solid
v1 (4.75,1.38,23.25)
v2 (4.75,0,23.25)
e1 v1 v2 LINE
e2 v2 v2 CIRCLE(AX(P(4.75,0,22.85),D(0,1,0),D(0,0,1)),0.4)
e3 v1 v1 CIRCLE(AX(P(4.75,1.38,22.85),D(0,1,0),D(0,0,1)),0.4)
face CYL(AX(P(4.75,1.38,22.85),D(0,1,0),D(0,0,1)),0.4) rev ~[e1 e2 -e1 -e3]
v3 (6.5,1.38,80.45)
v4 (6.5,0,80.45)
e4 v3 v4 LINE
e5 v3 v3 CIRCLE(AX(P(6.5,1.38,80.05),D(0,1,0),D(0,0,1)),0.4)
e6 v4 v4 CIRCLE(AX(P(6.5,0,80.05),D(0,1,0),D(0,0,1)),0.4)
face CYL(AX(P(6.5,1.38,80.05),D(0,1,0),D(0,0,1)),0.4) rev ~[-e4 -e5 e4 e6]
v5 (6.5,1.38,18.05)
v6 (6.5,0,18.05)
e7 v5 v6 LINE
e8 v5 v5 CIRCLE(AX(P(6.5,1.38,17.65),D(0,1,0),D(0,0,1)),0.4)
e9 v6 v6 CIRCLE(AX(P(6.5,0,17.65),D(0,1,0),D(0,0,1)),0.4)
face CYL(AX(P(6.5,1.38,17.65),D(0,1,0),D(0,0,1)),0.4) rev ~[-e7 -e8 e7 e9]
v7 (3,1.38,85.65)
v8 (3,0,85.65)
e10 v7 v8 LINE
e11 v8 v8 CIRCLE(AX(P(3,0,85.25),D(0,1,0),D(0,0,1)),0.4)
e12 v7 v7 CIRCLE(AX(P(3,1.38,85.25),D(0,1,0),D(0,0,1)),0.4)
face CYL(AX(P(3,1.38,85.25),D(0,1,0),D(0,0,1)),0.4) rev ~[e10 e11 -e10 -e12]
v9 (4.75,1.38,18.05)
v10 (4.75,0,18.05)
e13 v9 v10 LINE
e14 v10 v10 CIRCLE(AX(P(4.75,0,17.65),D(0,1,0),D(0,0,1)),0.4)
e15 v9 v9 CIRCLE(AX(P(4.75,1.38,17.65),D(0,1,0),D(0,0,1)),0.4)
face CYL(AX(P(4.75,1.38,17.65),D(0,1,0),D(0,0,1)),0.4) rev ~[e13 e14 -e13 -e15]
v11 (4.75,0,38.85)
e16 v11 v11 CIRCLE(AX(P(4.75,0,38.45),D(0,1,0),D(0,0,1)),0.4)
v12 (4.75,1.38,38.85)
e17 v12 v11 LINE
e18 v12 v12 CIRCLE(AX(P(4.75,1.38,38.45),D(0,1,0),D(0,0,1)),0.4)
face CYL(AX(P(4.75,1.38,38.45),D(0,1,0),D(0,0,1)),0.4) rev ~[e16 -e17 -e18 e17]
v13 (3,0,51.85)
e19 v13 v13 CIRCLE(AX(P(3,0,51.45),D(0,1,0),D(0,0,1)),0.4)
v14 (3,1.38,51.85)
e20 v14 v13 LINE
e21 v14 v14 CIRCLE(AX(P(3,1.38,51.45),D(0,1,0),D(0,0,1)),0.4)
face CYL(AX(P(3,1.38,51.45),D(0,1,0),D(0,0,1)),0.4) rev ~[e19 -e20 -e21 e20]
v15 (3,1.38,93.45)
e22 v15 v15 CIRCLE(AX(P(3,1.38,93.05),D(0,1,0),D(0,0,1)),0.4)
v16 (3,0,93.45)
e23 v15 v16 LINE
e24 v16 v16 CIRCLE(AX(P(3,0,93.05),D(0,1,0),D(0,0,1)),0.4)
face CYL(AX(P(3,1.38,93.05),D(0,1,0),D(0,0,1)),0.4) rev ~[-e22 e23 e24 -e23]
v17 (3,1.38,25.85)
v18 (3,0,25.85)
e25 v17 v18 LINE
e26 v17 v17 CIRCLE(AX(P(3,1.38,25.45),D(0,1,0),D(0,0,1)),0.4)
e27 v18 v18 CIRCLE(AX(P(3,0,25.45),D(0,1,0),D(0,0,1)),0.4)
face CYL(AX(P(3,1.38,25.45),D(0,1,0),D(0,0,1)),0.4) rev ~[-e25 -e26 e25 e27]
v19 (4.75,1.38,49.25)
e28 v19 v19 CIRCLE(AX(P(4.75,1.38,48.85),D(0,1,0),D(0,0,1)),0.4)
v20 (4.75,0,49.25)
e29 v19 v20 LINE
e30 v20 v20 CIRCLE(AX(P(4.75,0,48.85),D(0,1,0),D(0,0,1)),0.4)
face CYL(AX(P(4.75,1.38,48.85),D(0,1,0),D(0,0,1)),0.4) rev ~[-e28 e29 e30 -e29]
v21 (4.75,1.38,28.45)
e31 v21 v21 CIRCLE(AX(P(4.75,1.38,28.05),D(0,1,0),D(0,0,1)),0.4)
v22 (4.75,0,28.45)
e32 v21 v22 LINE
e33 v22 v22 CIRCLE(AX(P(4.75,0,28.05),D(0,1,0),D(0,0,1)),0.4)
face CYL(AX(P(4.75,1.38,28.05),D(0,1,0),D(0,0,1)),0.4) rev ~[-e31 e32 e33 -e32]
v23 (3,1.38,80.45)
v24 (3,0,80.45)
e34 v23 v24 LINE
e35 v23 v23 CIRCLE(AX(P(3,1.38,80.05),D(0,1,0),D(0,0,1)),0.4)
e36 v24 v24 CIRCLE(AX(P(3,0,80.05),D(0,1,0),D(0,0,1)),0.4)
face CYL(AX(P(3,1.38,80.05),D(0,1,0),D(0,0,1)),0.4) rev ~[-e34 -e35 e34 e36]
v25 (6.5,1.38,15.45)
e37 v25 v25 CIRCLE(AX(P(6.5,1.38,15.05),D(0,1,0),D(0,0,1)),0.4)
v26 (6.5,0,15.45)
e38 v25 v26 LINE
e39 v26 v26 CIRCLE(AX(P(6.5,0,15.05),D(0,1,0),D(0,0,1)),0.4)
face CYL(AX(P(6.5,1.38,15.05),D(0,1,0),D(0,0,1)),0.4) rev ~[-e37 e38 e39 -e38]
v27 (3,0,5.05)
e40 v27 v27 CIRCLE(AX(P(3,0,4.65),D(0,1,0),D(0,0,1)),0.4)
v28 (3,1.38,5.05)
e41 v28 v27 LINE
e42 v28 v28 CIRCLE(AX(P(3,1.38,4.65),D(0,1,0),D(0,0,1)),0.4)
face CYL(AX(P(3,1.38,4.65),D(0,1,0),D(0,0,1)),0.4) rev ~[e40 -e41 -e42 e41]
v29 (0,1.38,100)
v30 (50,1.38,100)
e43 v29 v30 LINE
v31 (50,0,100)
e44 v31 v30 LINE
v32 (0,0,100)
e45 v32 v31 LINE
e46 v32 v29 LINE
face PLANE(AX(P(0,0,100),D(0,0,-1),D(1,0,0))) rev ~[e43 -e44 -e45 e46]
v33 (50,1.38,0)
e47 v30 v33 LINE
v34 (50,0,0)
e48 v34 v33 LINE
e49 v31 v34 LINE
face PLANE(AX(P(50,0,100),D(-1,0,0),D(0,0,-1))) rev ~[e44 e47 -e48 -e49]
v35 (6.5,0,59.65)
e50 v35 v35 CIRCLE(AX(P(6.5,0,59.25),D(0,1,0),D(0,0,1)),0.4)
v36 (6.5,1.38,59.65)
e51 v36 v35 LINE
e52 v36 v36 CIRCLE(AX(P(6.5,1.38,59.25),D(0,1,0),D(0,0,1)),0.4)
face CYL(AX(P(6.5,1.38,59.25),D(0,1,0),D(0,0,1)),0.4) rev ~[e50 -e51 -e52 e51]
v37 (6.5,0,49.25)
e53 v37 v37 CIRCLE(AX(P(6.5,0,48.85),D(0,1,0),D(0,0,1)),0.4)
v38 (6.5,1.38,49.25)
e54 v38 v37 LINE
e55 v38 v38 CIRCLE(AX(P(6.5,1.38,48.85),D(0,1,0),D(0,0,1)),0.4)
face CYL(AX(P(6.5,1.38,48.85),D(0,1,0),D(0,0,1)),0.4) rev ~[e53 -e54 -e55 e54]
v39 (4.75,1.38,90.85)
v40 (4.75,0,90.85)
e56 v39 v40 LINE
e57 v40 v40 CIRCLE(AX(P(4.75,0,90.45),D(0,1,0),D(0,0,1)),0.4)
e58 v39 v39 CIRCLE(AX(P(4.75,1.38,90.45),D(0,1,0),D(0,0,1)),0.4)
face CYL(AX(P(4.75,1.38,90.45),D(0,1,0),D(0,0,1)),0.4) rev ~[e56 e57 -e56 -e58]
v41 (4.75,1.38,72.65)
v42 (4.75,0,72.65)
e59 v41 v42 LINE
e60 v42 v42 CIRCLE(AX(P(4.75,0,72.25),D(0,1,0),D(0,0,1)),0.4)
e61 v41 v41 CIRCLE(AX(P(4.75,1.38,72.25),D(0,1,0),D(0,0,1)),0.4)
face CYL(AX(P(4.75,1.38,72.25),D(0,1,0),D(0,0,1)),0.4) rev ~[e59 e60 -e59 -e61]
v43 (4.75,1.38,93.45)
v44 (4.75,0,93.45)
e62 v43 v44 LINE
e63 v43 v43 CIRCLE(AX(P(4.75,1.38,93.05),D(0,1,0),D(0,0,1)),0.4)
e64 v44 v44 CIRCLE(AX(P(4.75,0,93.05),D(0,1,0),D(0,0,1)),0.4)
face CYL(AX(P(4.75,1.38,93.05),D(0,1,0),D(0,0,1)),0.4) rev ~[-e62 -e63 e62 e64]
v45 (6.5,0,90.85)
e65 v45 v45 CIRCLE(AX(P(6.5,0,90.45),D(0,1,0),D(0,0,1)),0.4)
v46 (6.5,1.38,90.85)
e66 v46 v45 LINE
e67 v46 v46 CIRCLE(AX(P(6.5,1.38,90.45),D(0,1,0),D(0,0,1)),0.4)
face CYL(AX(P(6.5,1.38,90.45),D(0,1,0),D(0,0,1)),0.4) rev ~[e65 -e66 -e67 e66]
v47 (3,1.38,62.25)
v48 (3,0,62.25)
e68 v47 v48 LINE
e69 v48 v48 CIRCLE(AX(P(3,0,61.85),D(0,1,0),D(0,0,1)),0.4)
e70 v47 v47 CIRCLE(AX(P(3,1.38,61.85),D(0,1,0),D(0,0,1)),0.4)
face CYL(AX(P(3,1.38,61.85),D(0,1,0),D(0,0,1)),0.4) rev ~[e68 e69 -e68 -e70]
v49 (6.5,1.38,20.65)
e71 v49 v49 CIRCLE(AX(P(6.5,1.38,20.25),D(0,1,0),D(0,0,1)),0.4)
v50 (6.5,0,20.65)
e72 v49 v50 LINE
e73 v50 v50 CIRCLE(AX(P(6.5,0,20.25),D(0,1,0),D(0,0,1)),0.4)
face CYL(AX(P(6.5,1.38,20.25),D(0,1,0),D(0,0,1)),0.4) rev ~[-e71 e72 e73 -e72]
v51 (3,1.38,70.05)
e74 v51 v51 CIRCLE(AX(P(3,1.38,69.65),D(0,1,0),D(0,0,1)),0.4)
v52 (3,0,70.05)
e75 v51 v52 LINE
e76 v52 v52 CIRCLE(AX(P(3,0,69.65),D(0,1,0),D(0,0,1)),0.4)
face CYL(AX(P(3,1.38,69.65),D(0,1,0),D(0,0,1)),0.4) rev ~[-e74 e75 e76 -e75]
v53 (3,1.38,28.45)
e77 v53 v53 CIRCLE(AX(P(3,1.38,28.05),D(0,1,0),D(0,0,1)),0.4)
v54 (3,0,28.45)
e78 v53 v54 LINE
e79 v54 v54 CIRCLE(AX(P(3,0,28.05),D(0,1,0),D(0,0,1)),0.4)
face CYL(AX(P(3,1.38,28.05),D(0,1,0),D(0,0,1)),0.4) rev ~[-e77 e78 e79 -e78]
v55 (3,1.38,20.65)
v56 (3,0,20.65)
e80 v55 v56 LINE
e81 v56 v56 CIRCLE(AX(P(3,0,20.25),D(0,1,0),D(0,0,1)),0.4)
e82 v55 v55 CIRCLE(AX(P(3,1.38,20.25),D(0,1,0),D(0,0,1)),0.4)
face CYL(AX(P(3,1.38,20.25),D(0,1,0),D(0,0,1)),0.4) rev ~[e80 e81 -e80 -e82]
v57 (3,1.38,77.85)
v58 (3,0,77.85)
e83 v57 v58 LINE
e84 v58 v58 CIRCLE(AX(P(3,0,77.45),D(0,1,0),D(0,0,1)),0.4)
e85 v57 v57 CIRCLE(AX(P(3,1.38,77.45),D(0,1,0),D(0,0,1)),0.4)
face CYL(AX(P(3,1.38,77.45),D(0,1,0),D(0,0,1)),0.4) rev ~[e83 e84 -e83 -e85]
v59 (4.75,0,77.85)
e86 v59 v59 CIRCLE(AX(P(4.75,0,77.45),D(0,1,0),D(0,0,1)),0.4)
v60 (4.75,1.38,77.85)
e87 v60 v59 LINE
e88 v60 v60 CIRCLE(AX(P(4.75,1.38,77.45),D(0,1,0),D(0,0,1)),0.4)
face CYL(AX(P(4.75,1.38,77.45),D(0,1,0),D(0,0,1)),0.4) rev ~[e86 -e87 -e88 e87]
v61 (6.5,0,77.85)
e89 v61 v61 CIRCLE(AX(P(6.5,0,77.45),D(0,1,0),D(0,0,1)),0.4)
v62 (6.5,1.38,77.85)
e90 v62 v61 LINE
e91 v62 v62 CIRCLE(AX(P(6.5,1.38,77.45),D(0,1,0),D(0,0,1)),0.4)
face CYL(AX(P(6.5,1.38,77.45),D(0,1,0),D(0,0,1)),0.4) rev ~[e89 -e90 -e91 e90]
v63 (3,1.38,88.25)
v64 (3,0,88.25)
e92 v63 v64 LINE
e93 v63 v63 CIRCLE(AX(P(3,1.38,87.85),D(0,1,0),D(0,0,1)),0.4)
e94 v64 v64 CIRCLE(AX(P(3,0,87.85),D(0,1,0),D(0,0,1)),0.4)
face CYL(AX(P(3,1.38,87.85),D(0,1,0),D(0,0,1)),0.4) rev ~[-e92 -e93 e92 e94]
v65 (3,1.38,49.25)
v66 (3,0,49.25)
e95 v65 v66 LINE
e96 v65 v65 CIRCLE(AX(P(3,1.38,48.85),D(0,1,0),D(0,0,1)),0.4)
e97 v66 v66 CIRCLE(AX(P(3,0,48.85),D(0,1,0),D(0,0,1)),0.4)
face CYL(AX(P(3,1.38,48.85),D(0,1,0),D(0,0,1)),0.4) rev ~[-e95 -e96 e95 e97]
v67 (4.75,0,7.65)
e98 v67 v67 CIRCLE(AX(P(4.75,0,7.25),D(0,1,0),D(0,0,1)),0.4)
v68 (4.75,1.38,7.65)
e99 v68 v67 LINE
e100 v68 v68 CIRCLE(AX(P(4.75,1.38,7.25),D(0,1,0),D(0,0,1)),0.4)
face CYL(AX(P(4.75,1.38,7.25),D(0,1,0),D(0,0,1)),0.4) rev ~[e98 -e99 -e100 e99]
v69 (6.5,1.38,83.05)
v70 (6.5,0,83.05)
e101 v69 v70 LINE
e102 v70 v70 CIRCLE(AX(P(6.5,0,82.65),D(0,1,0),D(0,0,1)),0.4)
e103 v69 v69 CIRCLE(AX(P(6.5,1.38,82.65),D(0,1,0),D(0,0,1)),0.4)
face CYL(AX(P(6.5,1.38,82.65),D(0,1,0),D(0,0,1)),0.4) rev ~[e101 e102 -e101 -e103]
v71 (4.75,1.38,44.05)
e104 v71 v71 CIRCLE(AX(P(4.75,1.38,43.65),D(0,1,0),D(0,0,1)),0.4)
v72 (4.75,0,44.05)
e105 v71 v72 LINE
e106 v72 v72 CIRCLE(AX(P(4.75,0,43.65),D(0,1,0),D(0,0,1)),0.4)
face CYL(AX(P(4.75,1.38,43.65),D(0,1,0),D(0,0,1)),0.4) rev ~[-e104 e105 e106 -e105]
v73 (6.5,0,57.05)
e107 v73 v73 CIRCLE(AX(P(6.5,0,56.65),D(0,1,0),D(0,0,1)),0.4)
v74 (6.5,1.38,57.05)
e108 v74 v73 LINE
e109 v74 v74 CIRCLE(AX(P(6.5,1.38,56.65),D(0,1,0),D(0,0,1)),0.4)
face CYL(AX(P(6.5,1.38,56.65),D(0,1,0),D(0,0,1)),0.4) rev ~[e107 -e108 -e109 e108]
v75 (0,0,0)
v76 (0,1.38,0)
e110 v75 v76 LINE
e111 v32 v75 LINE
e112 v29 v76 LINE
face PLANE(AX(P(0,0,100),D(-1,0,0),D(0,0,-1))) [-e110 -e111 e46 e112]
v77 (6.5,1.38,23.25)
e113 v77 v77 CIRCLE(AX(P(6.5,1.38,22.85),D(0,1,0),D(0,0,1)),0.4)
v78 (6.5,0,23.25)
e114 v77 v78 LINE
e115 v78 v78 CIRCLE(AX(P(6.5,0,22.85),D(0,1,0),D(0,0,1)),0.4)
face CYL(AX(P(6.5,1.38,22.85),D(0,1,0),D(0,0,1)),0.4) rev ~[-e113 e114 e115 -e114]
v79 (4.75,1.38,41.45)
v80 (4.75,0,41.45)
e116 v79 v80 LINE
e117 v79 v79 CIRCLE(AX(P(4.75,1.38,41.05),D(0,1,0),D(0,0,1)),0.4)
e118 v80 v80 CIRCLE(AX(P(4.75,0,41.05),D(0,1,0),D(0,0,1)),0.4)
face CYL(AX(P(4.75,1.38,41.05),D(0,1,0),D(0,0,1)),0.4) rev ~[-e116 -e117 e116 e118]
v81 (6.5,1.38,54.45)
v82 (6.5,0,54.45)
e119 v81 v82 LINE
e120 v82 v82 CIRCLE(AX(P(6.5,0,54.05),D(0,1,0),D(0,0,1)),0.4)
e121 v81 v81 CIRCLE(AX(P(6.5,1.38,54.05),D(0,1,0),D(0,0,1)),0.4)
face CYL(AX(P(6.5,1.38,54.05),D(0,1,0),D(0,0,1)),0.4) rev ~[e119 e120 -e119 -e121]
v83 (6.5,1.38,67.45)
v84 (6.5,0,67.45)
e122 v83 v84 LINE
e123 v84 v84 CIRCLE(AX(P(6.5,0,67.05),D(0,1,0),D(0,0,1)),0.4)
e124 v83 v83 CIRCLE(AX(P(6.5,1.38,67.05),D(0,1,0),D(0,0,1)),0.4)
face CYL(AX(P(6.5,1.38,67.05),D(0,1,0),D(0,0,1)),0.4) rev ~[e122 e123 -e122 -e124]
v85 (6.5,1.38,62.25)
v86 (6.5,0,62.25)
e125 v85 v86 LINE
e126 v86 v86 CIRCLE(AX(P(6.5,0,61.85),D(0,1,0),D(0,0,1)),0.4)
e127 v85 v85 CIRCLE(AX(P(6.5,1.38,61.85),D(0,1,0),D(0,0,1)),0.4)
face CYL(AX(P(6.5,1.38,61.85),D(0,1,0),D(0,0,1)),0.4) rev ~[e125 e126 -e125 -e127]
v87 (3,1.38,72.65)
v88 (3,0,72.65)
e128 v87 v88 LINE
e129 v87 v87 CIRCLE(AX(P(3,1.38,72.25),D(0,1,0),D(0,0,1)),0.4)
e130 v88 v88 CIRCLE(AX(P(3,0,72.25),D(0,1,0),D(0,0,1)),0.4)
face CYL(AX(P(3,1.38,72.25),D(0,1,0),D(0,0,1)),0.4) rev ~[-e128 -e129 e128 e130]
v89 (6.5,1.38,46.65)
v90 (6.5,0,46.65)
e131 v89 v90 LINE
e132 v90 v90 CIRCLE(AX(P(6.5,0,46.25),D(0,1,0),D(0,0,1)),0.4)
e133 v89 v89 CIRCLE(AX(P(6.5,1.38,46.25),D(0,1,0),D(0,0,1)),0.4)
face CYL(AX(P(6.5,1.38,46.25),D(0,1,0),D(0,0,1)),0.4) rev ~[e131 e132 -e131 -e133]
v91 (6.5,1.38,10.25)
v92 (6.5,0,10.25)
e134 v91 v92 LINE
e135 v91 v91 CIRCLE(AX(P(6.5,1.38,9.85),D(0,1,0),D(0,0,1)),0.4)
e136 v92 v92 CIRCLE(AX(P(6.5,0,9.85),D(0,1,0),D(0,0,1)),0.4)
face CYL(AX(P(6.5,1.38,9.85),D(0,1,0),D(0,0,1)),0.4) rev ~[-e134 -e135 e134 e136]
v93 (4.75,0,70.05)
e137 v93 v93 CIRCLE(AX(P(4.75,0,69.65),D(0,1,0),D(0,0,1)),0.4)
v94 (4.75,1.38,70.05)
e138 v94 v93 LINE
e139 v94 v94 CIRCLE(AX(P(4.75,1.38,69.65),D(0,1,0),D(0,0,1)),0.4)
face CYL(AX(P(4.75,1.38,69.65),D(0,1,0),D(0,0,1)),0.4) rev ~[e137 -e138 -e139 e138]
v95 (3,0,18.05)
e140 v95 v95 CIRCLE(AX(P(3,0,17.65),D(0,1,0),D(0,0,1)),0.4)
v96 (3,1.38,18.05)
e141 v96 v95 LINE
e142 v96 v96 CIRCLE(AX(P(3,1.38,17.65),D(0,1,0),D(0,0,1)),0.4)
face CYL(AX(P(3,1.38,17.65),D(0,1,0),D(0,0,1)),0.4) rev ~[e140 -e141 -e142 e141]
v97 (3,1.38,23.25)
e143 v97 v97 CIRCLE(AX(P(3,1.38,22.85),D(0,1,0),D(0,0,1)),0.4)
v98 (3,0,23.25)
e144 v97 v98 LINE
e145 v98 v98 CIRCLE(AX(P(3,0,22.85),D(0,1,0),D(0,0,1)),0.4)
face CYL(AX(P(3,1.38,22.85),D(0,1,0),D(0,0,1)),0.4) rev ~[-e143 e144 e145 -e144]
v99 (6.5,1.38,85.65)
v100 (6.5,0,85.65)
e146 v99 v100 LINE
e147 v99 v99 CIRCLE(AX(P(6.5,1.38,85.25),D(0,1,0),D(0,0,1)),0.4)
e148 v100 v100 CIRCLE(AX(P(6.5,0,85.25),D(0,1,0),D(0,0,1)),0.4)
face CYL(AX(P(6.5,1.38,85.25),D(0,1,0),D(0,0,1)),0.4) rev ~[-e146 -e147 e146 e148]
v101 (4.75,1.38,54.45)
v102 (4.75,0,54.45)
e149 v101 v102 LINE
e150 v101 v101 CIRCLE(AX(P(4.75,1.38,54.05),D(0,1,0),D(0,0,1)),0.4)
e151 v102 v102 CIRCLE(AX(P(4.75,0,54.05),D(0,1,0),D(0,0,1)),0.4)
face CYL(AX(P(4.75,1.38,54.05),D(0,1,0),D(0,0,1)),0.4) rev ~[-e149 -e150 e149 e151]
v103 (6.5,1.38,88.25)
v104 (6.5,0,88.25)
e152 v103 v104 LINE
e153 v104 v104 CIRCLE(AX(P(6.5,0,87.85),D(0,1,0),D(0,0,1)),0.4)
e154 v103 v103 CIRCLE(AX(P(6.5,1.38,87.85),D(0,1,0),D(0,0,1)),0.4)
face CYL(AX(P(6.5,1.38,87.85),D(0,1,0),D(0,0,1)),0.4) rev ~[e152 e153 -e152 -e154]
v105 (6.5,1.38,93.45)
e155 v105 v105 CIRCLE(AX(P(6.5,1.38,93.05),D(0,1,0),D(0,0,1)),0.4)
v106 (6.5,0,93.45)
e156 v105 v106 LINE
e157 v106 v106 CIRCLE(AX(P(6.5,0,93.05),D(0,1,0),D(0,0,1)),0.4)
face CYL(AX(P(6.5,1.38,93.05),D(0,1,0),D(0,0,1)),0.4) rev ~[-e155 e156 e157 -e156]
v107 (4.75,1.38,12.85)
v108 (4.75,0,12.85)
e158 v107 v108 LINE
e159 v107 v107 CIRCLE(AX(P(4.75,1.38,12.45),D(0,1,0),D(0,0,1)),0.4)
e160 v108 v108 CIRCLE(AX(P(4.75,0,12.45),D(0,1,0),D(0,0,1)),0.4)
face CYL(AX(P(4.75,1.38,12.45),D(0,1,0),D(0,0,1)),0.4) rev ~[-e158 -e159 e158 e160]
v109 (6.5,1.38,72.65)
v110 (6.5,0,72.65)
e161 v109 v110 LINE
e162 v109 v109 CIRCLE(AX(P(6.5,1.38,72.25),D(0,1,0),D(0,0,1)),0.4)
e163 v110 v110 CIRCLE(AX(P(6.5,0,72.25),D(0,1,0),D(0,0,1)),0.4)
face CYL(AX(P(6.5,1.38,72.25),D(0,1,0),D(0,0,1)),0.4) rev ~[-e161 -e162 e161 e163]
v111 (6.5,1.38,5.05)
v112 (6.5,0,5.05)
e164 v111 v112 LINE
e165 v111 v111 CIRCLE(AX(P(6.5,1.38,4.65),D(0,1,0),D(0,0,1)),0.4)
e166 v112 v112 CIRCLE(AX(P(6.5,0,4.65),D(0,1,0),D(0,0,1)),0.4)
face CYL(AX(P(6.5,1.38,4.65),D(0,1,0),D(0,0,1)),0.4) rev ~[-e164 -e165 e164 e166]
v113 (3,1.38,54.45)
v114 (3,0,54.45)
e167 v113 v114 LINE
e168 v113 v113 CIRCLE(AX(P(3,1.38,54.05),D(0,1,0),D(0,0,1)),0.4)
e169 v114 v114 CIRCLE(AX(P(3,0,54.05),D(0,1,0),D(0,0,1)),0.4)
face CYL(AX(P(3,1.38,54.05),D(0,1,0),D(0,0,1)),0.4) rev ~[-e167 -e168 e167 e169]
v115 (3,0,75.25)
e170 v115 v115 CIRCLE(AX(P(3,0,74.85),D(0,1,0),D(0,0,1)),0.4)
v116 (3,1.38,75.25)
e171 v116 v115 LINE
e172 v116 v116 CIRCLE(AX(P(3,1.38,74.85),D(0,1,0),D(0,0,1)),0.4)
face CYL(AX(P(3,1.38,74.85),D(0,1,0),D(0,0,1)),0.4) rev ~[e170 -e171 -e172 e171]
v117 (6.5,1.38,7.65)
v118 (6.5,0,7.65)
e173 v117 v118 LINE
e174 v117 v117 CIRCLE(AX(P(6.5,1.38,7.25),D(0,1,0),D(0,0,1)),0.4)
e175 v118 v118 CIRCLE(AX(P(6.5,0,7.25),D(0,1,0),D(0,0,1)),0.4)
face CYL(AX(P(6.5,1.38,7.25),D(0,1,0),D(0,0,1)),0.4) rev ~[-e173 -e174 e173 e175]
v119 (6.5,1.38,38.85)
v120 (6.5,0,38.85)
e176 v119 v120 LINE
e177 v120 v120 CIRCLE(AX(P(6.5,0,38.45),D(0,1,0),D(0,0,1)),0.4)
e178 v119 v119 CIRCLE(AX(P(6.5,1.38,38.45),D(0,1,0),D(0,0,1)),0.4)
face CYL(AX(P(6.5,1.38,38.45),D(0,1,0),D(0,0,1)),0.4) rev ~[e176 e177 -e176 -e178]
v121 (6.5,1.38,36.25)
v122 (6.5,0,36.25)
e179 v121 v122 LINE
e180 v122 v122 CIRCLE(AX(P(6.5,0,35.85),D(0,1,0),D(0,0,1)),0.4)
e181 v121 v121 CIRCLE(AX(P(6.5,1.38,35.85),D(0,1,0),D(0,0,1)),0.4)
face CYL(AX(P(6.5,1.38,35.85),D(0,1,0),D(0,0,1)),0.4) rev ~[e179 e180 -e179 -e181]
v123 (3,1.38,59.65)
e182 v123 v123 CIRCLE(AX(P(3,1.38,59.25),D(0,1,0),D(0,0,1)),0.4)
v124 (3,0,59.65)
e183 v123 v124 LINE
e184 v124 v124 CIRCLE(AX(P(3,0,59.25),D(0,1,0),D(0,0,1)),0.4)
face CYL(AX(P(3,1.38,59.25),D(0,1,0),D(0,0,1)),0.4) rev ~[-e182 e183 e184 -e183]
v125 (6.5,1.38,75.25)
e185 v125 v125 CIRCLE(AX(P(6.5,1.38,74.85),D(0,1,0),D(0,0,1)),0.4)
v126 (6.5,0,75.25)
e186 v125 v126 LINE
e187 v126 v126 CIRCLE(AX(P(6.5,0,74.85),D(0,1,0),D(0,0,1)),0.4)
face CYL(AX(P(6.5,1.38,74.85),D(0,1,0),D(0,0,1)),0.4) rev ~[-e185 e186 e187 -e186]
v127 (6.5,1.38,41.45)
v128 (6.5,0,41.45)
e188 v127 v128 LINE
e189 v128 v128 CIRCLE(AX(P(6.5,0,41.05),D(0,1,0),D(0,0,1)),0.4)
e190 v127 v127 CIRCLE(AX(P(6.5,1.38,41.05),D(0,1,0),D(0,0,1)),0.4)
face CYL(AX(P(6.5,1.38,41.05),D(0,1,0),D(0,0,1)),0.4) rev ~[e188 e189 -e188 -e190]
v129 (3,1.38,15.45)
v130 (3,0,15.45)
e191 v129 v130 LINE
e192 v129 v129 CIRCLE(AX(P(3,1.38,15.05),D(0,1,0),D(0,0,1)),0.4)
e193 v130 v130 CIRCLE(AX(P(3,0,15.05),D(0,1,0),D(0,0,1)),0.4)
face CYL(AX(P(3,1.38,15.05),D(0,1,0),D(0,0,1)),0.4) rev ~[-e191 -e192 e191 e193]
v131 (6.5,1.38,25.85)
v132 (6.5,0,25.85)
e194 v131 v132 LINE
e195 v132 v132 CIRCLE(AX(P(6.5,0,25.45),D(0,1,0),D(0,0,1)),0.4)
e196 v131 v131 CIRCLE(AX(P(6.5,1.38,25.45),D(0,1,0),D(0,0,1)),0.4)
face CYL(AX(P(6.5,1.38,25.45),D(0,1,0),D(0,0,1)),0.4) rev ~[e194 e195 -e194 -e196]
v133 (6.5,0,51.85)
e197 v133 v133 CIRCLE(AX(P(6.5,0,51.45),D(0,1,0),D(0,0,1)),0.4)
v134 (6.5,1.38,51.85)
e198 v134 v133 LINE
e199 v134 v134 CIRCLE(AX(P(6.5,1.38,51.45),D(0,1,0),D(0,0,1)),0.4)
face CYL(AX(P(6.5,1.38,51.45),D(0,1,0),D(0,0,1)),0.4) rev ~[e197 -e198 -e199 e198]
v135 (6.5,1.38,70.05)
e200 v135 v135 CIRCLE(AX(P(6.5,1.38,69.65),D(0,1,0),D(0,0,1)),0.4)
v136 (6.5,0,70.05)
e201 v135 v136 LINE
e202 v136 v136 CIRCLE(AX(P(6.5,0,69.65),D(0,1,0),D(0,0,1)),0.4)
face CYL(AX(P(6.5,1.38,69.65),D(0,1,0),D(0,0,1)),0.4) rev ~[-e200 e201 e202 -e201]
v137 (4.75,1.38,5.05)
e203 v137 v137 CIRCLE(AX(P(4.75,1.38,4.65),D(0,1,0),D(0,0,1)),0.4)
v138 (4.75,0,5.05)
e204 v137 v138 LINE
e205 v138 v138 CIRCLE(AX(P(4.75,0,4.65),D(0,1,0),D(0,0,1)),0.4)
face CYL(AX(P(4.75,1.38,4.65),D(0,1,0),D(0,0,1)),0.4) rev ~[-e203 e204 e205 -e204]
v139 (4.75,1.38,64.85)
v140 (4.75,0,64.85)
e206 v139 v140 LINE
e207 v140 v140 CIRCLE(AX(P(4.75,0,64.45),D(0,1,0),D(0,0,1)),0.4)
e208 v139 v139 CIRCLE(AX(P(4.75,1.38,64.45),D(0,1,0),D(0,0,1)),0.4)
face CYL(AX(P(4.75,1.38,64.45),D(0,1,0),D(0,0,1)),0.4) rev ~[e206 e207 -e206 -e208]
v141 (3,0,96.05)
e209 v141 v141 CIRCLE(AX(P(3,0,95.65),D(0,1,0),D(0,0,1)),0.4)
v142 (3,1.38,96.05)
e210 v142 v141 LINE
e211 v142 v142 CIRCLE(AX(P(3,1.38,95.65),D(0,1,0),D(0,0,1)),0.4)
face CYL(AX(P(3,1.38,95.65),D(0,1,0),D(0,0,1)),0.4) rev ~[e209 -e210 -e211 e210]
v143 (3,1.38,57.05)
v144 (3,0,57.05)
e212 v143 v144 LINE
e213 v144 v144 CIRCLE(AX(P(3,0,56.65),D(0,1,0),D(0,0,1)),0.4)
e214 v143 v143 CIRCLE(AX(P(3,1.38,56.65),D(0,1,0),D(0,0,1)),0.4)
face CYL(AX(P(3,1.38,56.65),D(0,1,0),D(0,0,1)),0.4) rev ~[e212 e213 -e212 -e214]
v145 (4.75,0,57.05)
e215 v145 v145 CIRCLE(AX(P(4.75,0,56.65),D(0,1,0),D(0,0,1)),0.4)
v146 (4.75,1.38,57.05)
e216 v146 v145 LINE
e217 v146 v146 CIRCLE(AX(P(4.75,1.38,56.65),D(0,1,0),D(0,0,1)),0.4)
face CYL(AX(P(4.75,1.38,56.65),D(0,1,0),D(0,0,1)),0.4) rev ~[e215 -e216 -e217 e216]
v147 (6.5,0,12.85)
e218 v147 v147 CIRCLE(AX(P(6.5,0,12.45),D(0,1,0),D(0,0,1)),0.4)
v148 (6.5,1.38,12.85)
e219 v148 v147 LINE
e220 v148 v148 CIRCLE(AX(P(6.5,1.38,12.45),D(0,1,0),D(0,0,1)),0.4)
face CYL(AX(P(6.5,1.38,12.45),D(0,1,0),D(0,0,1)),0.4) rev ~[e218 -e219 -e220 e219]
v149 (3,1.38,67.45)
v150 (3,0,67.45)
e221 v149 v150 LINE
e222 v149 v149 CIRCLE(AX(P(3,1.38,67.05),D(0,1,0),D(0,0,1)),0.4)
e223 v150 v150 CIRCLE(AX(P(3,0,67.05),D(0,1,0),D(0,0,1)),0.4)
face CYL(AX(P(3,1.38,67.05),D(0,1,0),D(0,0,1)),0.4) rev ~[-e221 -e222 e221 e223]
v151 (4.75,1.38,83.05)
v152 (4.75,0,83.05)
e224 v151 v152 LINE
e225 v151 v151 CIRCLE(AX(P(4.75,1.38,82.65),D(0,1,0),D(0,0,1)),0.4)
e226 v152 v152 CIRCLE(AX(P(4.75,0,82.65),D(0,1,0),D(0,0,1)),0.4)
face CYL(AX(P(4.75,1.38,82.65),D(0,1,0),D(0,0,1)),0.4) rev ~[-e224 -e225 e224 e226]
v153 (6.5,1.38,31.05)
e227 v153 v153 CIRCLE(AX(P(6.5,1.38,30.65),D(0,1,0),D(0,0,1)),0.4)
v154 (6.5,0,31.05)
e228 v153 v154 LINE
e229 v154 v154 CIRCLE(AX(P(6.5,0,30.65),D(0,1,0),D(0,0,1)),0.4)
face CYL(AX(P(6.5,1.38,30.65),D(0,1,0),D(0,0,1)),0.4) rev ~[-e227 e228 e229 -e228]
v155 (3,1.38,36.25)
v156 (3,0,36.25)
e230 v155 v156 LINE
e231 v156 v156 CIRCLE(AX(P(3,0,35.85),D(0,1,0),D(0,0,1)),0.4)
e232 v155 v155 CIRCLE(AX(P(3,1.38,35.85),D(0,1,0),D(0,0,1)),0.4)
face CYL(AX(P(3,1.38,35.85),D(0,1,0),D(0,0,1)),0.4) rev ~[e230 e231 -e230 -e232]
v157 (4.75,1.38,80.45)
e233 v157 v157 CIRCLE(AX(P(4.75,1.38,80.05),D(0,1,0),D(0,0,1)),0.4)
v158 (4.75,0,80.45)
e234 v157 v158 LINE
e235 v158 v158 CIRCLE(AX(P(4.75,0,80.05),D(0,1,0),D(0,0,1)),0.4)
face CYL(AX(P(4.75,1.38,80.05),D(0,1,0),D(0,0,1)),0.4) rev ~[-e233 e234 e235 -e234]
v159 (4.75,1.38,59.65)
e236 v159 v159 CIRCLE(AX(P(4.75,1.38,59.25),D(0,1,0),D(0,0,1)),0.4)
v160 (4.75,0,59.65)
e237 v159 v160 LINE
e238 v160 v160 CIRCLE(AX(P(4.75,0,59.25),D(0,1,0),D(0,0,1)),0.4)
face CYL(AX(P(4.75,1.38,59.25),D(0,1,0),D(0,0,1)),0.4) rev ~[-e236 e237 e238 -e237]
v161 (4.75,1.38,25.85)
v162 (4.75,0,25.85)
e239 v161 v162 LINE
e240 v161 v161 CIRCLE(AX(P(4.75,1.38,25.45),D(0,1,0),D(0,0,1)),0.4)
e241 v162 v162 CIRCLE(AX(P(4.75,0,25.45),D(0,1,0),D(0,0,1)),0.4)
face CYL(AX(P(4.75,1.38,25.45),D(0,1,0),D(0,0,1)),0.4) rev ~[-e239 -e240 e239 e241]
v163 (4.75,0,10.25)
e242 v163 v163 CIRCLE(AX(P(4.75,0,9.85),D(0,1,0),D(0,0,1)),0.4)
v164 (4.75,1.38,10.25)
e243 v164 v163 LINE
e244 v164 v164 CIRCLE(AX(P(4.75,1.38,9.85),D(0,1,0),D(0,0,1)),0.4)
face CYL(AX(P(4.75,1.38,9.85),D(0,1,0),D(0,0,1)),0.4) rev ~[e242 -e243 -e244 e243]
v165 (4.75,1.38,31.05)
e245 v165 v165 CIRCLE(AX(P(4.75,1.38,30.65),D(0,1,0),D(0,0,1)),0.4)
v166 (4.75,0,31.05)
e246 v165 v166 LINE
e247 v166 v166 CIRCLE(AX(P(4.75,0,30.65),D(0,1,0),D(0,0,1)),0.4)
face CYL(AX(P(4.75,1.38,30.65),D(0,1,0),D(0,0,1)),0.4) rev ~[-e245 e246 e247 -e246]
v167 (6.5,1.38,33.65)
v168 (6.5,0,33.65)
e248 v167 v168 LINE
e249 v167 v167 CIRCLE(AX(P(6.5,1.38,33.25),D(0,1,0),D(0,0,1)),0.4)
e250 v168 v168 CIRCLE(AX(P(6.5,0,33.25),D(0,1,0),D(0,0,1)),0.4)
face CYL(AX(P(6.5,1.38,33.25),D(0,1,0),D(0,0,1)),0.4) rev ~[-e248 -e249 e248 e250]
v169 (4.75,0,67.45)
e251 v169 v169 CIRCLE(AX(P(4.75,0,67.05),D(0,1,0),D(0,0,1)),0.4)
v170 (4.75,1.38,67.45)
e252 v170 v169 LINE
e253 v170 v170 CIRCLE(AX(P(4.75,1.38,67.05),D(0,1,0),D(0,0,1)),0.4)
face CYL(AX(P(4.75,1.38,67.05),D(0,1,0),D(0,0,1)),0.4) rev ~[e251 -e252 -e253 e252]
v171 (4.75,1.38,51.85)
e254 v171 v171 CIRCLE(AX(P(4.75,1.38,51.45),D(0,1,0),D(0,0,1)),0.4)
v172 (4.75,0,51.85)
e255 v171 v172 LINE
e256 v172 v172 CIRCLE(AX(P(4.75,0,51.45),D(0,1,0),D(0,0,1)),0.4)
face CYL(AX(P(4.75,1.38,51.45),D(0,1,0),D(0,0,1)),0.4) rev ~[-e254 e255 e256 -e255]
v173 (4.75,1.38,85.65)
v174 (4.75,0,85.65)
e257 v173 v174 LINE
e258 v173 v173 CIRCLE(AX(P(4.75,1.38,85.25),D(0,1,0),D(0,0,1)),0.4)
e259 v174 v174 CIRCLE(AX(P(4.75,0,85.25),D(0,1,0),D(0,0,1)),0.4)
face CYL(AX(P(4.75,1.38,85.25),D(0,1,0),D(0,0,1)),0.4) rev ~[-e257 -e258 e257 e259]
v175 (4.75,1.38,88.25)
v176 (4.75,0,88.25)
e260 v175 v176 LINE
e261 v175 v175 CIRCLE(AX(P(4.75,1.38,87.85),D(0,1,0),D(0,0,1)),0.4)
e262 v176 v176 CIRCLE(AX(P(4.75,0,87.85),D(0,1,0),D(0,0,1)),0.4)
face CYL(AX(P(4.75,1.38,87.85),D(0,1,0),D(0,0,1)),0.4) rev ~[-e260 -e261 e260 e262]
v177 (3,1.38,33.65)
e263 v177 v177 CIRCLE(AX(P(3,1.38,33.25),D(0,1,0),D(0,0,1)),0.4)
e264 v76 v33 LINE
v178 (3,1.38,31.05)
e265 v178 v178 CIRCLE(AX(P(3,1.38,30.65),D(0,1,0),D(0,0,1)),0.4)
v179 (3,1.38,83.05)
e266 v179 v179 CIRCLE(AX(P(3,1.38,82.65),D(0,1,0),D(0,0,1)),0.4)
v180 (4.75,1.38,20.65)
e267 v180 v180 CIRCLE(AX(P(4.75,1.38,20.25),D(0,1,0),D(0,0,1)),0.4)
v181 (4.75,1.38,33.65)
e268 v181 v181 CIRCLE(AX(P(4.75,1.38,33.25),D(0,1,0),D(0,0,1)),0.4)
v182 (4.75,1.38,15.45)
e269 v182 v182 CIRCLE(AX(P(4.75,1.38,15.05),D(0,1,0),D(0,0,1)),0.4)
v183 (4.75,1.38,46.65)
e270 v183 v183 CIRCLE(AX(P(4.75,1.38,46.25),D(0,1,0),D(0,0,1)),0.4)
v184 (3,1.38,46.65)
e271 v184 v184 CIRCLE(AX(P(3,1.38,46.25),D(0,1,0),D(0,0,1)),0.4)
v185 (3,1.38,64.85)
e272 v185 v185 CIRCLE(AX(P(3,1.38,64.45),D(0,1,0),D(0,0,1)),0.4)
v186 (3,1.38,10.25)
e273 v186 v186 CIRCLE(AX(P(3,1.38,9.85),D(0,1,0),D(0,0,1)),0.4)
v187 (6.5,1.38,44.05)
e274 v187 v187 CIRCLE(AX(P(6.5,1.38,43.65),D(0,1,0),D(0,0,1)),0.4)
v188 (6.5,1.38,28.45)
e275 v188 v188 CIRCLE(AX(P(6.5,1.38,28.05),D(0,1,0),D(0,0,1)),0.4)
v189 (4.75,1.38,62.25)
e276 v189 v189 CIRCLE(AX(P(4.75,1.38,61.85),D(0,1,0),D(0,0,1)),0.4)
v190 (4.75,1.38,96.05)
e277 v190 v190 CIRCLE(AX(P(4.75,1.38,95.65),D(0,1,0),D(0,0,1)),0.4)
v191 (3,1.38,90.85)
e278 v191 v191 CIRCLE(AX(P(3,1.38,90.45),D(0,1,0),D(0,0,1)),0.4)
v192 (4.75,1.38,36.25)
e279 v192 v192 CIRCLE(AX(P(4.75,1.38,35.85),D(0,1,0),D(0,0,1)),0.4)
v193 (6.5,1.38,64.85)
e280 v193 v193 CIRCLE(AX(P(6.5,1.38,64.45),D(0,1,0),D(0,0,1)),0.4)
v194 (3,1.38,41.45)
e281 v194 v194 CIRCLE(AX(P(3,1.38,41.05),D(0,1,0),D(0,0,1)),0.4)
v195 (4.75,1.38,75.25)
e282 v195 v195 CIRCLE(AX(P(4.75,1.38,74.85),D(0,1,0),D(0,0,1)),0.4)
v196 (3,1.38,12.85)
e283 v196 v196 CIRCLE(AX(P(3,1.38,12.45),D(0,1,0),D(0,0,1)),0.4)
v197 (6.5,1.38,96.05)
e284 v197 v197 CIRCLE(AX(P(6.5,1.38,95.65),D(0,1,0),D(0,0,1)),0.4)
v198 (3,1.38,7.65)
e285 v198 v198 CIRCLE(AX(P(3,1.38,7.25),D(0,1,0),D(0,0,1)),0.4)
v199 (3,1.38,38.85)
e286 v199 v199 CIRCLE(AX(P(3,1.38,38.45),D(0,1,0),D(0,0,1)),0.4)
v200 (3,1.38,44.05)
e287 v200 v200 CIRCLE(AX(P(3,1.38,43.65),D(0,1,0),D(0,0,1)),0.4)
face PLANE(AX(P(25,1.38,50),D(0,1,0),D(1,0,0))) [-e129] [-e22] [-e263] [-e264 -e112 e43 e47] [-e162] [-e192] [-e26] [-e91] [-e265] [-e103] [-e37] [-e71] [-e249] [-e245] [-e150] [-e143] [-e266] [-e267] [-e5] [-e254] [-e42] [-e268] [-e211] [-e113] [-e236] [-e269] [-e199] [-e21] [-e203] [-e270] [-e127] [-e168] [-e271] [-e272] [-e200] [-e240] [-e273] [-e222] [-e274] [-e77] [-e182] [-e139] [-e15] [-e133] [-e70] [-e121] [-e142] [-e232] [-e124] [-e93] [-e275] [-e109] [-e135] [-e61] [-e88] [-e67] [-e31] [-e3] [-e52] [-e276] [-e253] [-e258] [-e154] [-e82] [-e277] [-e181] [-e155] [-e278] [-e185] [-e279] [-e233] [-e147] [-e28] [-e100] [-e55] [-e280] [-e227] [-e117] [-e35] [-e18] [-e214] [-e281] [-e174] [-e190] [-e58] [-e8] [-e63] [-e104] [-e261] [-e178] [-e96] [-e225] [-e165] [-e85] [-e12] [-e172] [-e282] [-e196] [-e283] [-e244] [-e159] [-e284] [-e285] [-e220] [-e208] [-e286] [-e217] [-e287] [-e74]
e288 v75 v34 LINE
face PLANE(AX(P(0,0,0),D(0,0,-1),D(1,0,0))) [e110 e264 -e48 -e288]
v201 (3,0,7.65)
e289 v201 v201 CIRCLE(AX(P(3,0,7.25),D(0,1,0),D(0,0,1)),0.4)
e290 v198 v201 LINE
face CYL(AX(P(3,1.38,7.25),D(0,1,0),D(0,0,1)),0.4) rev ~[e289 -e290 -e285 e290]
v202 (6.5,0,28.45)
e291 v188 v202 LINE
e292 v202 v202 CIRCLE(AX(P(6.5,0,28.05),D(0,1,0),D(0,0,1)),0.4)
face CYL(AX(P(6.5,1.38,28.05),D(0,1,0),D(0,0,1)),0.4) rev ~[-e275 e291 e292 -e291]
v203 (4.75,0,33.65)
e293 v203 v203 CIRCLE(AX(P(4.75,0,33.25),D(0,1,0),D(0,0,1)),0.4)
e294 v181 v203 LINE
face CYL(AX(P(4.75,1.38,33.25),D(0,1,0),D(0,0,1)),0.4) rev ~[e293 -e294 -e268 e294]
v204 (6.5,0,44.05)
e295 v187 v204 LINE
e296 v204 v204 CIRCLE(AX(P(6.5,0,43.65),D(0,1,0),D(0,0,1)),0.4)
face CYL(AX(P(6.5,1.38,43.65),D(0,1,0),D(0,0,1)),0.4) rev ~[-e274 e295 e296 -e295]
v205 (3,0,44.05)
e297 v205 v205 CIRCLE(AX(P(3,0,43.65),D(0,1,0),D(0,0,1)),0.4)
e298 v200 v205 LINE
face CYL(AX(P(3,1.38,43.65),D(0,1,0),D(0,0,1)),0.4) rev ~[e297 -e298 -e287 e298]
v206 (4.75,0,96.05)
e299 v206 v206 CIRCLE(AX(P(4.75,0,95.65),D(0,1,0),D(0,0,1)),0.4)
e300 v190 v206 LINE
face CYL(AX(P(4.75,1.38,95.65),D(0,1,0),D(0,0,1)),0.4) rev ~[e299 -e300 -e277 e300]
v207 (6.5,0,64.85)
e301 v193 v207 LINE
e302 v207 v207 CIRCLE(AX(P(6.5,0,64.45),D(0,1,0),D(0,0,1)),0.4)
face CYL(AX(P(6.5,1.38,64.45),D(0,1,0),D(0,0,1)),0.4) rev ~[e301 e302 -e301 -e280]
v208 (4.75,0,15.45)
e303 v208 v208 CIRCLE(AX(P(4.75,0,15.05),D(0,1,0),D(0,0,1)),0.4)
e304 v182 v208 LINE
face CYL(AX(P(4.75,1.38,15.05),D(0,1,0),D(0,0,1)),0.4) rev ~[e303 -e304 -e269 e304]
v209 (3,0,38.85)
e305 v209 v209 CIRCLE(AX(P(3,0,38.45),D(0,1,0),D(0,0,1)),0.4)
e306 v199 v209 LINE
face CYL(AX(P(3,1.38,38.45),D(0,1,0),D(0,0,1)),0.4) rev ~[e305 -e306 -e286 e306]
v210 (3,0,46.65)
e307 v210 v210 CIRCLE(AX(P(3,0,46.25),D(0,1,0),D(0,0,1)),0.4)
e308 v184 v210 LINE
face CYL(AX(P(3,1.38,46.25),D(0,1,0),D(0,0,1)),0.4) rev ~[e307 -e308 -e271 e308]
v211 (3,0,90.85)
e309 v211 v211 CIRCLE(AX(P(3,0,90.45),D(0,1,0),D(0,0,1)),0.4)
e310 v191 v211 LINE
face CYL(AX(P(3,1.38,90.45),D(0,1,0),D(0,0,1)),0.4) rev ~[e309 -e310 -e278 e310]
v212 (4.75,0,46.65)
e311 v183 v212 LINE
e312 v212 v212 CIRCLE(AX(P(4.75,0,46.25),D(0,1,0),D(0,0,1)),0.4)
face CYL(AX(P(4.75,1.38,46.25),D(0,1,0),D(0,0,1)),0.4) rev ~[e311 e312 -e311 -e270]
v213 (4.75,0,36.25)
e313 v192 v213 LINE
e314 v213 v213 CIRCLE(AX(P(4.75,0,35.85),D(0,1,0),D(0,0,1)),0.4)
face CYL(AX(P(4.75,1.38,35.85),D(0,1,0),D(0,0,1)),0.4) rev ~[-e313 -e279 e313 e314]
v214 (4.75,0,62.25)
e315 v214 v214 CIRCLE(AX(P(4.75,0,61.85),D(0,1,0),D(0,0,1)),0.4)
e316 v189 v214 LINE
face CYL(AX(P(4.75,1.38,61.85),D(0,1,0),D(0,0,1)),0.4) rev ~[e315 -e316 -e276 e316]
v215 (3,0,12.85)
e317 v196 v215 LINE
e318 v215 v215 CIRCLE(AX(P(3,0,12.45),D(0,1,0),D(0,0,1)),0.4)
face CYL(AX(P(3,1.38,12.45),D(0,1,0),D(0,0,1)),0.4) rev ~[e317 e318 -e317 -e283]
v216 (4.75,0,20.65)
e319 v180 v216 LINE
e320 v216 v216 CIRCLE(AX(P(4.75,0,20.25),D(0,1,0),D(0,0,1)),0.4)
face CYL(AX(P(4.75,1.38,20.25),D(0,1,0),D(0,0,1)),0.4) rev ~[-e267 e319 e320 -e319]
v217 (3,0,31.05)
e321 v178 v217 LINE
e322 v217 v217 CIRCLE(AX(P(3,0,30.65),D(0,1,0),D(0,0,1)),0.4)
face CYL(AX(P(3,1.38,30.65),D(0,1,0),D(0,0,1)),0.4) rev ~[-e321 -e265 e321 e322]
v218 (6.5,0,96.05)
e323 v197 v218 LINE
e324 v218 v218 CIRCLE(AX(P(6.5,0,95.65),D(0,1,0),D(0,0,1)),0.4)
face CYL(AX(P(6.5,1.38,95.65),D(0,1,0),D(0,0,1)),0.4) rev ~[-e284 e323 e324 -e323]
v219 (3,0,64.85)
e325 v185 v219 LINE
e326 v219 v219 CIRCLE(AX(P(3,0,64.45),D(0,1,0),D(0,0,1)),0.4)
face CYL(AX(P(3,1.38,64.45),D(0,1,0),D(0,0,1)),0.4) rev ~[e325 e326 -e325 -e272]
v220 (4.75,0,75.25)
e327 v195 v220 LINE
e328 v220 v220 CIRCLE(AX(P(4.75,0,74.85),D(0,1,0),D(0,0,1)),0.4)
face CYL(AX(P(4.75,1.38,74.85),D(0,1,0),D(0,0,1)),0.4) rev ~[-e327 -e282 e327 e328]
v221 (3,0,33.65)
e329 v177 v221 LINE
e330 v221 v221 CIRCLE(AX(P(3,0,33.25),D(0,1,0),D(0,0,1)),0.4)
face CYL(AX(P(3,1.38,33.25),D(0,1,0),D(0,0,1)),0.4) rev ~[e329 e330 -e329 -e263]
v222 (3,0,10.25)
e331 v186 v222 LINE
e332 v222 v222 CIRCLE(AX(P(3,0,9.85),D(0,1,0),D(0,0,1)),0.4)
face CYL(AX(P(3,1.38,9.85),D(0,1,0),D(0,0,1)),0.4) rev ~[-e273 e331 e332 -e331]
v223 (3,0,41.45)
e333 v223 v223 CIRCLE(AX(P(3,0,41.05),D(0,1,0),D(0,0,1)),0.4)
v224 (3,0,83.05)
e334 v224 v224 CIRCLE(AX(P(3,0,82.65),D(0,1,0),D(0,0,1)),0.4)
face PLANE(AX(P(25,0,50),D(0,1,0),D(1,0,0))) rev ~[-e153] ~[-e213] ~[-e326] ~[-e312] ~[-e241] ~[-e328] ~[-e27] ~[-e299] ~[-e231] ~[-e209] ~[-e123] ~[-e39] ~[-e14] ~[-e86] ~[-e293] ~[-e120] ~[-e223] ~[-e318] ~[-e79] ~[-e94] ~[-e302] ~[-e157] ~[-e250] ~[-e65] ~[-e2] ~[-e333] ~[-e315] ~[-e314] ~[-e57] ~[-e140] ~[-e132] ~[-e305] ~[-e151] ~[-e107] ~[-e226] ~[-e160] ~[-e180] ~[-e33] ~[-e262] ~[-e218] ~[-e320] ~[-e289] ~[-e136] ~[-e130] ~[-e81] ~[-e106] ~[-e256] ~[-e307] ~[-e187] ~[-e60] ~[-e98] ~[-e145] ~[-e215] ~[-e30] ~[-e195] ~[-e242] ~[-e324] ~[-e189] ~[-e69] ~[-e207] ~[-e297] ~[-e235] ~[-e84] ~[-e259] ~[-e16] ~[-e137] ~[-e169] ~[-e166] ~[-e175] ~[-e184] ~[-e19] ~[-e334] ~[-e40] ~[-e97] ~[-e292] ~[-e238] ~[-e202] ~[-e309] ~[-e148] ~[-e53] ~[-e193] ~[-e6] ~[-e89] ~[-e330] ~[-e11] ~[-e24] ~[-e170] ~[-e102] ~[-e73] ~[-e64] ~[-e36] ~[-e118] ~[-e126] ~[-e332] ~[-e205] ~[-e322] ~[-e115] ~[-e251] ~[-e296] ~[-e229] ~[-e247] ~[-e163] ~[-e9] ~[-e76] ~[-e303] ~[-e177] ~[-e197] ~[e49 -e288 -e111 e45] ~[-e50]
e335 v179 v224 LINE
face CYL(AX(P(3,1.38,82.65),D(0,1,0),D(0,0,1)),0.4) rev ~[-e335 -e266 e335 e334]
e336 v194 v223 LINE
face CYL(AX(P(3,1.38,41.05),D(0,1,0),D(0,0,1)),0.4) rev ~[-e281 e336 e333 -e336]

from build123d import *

# Parameters (mm, degrees)
SKETCH1_W           = 50
SKETCH1_H           = 100
BOSS_EXTRUDE1_DEPTH = 1.38
SKETCH2_R           = 0.4
CUT_EXTRUDE1_DEPTH  = 1.38


with BuildPart() as part:
    # Sketch1 → Boss-Extrude1 (new body)
    with BuildSketch(Plane(origin=(0, 0, 0), x_dir=(1, 0, 0), z_dir=(0, 1, 0))):
        with Locations((25, -50)):
            Rectangle(SKETCH1_W, SKETCH1_H)
    extrude(amount=BOSS_EXTRUDE1_DEPTH)

    # Sketch2 → Cut-Extrude1 (cut)
    with BuildSketch(Plane(origin=(0, 1.38, 0), x_dir=(1, 0, 0), z_dir=(0, 1, 0))):
        with Locations(Location((3, -4.65, 0), (0, 0, 270))):
            Circle(SKETCH2_R)
        with Locations(Location((4.75, -4.65, 0), (0, 0, 270))):
            Circle(SKETCH2_R)
        with Locations(Location((6.5, -4.65, 0), (0, 0, 270))):
            Circle(SKETCH2_R)
        with Locations(Location((3, -7.25, 0), (0, 0, 270))):
            Circle(SKETCH2_R)
        with Locations(Location((4.75, -7.25, 0), (0, 0, 270))):
            Circle(SKETCH2_R)
        with Locations(Location((6.5, -7.25, 0), (0, 0, 270))):
            Circle(SKETCH2_R)
        with Locations(Location((3, -9.85, 0), (0, 0, 270))):
            Circle(SKETCH2_R)
        with Locations(Location((4.75, -9.85, 0), (0, 0, 270))):
            Circle(SKETCH2_R)
        with Locations(Location((6.5, -9.85, 0), (0, 0, 270))):
            Circle(SKETCH2_R)
        with Locations(Location((3, -12.45, 0), (0, 0, 270))):
            Circle(SKETCH2_R)
        with Locations(Location((4.75, -12.45, 0), (0, 0, 270))):
            Circle(SKETCH2_R)
        with Locations(Location((6.5, -12.45, 0), (0, 0, 270))):
            Circle(SKETCH2_R)
        with Locations(Location((3, -15.05, 0), (0, 0, 270))):
            Circle(SKETCH2_R)
        with Locations(Location((4.75, -15.05, 0), (0, 0, 270))):
            Circle(SKETCH2_R)
        with Locations(Location((6.5, -15.05, 0), (0, 0, 270))):
            Circle(SKETCH2_R)
        with Locations(Location((3, -17.65, 0), (0, 0, 270))):
            Circle(SKETCH2_R)
        with Locations(Location((4.75, -17.65, 0), (0, 0, 270))):
            Circle(SKETCH2_R)
        with Locations(Location((6.5, -17.65, 0), (0, 0, 270))):
            Circle(SKETCH2_R)
        with Locations(Location((3, -20.25, 0), (0, 0, 270))):
            Circle(SKETCH2_R)
        with Locations(Location((4.75, -20.25, 0), (0, 0, 270))):
            Circle(SKETCH2_R)
        with Locations(Location((6.5, -20.25, 0), (0, 0, 270))):
            Circle(SKETCH2_R)
        with Locations(Location((3, -22.85, 0), (0, 0, 270))):
            Circle(SKETCH2_R)
        with Locations(Location((4.75, -22.85, 0), (0, 0, 270))):
            Circle(SKETCH2_R)
        with Locations(Location((6.5, -22.85, 0), (0, 0, 270))):
            Circle(SKETCH2_R)
        with Locations(Location((3, -25.45, 0), (0, 0, 270))):
            Circle(SKETCH2_R)
        with Locations(Location((4.75, -25.45, 0), (0, 0, 270))):
            Circle(SKETCH2_R)
        with Locations(Location((6.5, -25.45, 0), (0, 0, 270))):
            Circle(SKETCH2_R)
        with Locations(Location((3, -28.05, 0), (0, 0, 270))):
            Circle(SKETCH2_R)
        with Locations(Location((4.75, -28.05, 0), (0, 0, 270))):
            Circle(SKETCH2_R)
        with Locations(Location((6.5, -28.05, 0), (0, 0, 270))):
            Circle(SKETCH2_R)
        with Locations(Location((3, -30.65, 0), (0, 0, 270))):
            Circle(SKETCH2_R)
        with Locations(Location((4.75, -30.65, 0), (0, 0, 270))):
            Circle(SKETCH2_R)
        with Locations(Location((6.5, -30.65, 0), (0, 0, 270))):
            Circle(SKETCH2_R)
        with Locations(Location((3, -33.25, 0), (0, 0, 270))):
            Circle(SKETCH2_R)
        with Locations(Location((4.75, -33.25, 0), (0, 0, 270))):
            Circle(SKETCH2_R)
        with Locations(Location((6.5, -33.25, 0), (0, 0, 270))):
            Circle(SKETCH2_R)
        with Locations(Location((3, -35.85, 0), (0, 0, 270))):
            Circle(SKETCH2_R)
        with Locations(Location((4.75, -35.85, 0), (0, 0, 270))):
            Circle(SKETCH2_R)
        with Locations(Location((6.5, -35.85, 0), (0, 0, 270))):
            Circle(SKETCH2_R)
        with Locations(Location((3, -38.45, 0), (0, 0, 270))):
            Circle(SKETCH2_R)
        with Locations(Location((4.75, -38.45, 0), (0, 0, 270))):
            Circle(SKETCH2_R)
        with Locations(Location((6.5, -38.45, 0), (0, 0, 270))):
            Circle(SKETCH2_R)
        with Locations(Location((3, -41.05, 0), (0, 0, 270))):
            Circle(SKETCH2_R)
        with Locations(Location((4.75, -41.05, 0), (0, 0, 270))):
            Circle(SKETCH2_R)
        with Locations(Location((6.5, -41.05, 0), (0, 0, 270))):
            Circle(SKETCH2_R)
        with Locations(Location((3, -43.65, 0), (0, 0, 270))):
            Circle(SKETCH2_R)
        with Locations(Location((4.75, -43.65, 0), (0, 0, 270))):
            Circle(SKETCH2_R)
        with Locations(Location((6.5, -43.65, 0), (0, 0, 270))):
            Circle(SKETCH2_R)
        with Locations(Location((3, -46.25, 0), (0, 0, 270))):
            Circle(SKETCH2_R)
        with Locations(Location((4.75, -46.25, 0), (0, 0, 270))):
            Circle(SKETCH2_R)
        with Locations(Location((6.5, -46.25, 0), (0, 0, 270))):
            Circle(SKETCH2_R)
        with Locations(Location((3, -48.85, 0), (0, 0, 270))):
            Circle(SKETCH2_R)
        with Locations(Location((4.75, -48.85, 0), (0, 0, 270))):
            Circle(SKETCH2_R)
        with Locations(Location((6.5, -48.85, 0), (0, 0, 270))):
            Circle(SKETCH2_R)
        with Locations(Location((3, -51.45, 0), (0, 0, 270))):
            Circle(SKETCH2_R)
        with Locations(Location((4.75, -51.45, 0), (0, 0, 270))):
            Circle(SKETCH2_R)
        with Locations(Location((6.5, -51.45, 0), (0, 0, 270))):
            Circle(SKETCH2_R)
        with Locations(Location((3, -54.05, 0), (0, 0, 270))):
            Circle(SKETCH2_R)
        with Locations(Location((4.75, -54.05, 0), (0, 0, 270))):
            Circle(SKETCH2_R)
        with Locations(Location((6.5, -54.05, 0), (0, 0, 270))):
            Circle(SKETCH2_R)
        with Locations(Location((3, -56.65, 0), (0, 0, 270))):
            Circle(SKETCH2_R)
        with Locations(Location((4.75, -56.65, 0), (0, 0, 270))):
            Circle(SKETCH2_R)
        with Locations(Location((6.5, -56.65, 0), (0, 0, 270))):
            Circle(SKETCH2_R)
        with Locations(Location((3, -59.25, 0), (0, 0, 270))):
            Circle(SKETCH2_R)
        with Locations(Location((4.75, -59.25, 0), (0, 0, 270))):
            Circle(SKETCH2_R)
        with Locations(Location((6.5, -59.25, 0), (0, 0, 270))):
            Circle(SKETCH2_R)
        with Locations(Location((3, -61.85, 0), (0, 0, 270))):
            Circle(SKETCH2_R)
        with Locations(Location((4.75, -61.85, 0), (0, 0, 270))):
            Circle(SKETCH2_R)
        with Locations(Location((6.5, -61.85, 0), (0, 0, 270))):
            Circle(SKETCH2_R)
        with Locations(Location((3, -64.45, 0), (0, 0, 270))):
            Circle(SKETCH2_R)
        with Locations(Location((4.75, -64.45, 0), (0, 0, 270))):
            Circle(SKETCH2_R)
        with Locations(Location((6.5, -64.45, 0), (0, 0, 270))):
            Circle(SKETCH2_R)
        with Locations(Location((3, -67.05, 0), (0, 0, 270))):
            Circle(SKETCH2_R)
        with Locations(Location((4.75, -67.05, 0), (0, 0, 270))):
            Circle(SKETCH2_R)
        with Locations(Location((6.5, -67.05, 0), (0, 0, 270))):
            Circle(SKETCH2_R)
        with Locations(Location((3, -69.65, 0), (0, 0, 270))):
            Circle(SKETCH2_R)
        with Locations(Location((4.75, -69.65, 0), (0, 0, 270))):
            Circle(SKETCH2_R)
        with Locations(Location((6.5, -69.65, 0), (0, 0, 270))):
            Circle(SKETCH2_R)
        with Locations(Location((3, -72.25, 0), (0, 0, 270))):
            Circle(SKETCH2_R)
        with Locations(Location((4.75, -72.25, 0), (0, 0, 270))):
            Circle(SKETCH2_R)
        with Locations(Location((6.5, -72.25, 0), (0, 0, 270))):
            Circle(SKETCH2_R)
        with Locations(Location((3, -74.85, 0), (0, 0, 270))):
            Circle(SKETCH2_R)
        with Locations(Location((4.75, -74.85, 0), (0, 0, 270))):
            Circle(SKETCH2_R)
        with Locations(Location((6.5, -74.85, 0), (0, 0, 270))):
            Circle(SKETCH2_R)
        with Locations(Location((3, -77.45, 0), (0, 0, 270))):
            Circle(SKETCH2_R)
        with Locations(Location((4.75, -77.45, 0), (0, 0, 270))):
            Circle(SKETCH2_R)
        with Locations(Location((6.5, -77.45, 0), (0, 0, 270))):
            Circle(SKETCH2_R)
        with Locations(Location((3, -80.05, 0), (0, 0, 270))):
            Circle(SKETCH2_R)
        with Locations(Location((4.75, -80.05, 0), (0, 0, 270))):
            Circle(SKETCH2_R)
        with Locations(Location((6.5, -80.05, 0), (0, 0, 270))):
            Circle(SKETCH2_R)
        with Locations(Location((3, -82.65, 0), (0, 0, 270))):
            Circle(SKETCH2_R)
        with Locations(Location((4.75, -82.65, 0), (0, 0, 270))):
            Circle(SKETCH2_R)
        with Locations(Location((6.5, -82.65, 0), (0, 0, 270))):
            Circle(SKETCH2_R)
        with Locations(Location((3, -85.25, 0), (0, 0, 270))):
            Circle(SKETCH2_R)
        with Locations(Location((4.75, -85.25, 0), (0, 0, 270))):
            Circle(SKETCH2_R)
        with Locations(Location((6.5, -85.25, 0), (0, 0, 270))):
            Circle(SKETCH2_R)
        with Locations(Location((3, -87.85, 0), (0, 0, 270))):
            Circle(SKETCH2_R)
        with Locations(Location((4.75, -87.85, 0), (0, 0, 270))):
            Circle(SKETCH2_R)
        with Locations(Location((6.5, -87.85, 0), (0, 0, 270))):
            Circle(SKETCH2_R)
        with Locations(Location((3, -90.45, 0), (0, 0, 270))):
            Circle(SKETCH2_R)
        with Locations(Location((4.75, -90.45, 0), (0, 0, 270))):
            Circle(SKETCH2_R)
        with Locations(Location((6.5, -90.45, 0), (0, 0, 270))):
            Circle(SKETCH2_R)
        with Locations(Location((3, -93.05, 0), (0, 0, 270))):
            Circle(SKETCH2_R)
        with Locations(Location((4.75, -93.05, 0), (0, 0, 270))):
            Circle(SKETCH2_R)
        with Locations(Location((6.5, -93.05, 0), (0, 0, 270))):
            Circle(SKETCH2_R)
        with Locations(Location((3, -95.65, 0), (0, 0, 270))):
            Circle(SKETCH2_R)
        with Locations(Location((4.75, -95.65, 0), (0, 0, 270))):
            Circle(SKETCH2_R)
        with Locations(Location((6.5, -95.65, 0), (0, 0, 270))):
            Circle(SKETCH2_R)
    extrude(amount=-CUT_EXTRUDE1_DEPTH, mode=Mode.SUBTRACT)


solid = part.part
